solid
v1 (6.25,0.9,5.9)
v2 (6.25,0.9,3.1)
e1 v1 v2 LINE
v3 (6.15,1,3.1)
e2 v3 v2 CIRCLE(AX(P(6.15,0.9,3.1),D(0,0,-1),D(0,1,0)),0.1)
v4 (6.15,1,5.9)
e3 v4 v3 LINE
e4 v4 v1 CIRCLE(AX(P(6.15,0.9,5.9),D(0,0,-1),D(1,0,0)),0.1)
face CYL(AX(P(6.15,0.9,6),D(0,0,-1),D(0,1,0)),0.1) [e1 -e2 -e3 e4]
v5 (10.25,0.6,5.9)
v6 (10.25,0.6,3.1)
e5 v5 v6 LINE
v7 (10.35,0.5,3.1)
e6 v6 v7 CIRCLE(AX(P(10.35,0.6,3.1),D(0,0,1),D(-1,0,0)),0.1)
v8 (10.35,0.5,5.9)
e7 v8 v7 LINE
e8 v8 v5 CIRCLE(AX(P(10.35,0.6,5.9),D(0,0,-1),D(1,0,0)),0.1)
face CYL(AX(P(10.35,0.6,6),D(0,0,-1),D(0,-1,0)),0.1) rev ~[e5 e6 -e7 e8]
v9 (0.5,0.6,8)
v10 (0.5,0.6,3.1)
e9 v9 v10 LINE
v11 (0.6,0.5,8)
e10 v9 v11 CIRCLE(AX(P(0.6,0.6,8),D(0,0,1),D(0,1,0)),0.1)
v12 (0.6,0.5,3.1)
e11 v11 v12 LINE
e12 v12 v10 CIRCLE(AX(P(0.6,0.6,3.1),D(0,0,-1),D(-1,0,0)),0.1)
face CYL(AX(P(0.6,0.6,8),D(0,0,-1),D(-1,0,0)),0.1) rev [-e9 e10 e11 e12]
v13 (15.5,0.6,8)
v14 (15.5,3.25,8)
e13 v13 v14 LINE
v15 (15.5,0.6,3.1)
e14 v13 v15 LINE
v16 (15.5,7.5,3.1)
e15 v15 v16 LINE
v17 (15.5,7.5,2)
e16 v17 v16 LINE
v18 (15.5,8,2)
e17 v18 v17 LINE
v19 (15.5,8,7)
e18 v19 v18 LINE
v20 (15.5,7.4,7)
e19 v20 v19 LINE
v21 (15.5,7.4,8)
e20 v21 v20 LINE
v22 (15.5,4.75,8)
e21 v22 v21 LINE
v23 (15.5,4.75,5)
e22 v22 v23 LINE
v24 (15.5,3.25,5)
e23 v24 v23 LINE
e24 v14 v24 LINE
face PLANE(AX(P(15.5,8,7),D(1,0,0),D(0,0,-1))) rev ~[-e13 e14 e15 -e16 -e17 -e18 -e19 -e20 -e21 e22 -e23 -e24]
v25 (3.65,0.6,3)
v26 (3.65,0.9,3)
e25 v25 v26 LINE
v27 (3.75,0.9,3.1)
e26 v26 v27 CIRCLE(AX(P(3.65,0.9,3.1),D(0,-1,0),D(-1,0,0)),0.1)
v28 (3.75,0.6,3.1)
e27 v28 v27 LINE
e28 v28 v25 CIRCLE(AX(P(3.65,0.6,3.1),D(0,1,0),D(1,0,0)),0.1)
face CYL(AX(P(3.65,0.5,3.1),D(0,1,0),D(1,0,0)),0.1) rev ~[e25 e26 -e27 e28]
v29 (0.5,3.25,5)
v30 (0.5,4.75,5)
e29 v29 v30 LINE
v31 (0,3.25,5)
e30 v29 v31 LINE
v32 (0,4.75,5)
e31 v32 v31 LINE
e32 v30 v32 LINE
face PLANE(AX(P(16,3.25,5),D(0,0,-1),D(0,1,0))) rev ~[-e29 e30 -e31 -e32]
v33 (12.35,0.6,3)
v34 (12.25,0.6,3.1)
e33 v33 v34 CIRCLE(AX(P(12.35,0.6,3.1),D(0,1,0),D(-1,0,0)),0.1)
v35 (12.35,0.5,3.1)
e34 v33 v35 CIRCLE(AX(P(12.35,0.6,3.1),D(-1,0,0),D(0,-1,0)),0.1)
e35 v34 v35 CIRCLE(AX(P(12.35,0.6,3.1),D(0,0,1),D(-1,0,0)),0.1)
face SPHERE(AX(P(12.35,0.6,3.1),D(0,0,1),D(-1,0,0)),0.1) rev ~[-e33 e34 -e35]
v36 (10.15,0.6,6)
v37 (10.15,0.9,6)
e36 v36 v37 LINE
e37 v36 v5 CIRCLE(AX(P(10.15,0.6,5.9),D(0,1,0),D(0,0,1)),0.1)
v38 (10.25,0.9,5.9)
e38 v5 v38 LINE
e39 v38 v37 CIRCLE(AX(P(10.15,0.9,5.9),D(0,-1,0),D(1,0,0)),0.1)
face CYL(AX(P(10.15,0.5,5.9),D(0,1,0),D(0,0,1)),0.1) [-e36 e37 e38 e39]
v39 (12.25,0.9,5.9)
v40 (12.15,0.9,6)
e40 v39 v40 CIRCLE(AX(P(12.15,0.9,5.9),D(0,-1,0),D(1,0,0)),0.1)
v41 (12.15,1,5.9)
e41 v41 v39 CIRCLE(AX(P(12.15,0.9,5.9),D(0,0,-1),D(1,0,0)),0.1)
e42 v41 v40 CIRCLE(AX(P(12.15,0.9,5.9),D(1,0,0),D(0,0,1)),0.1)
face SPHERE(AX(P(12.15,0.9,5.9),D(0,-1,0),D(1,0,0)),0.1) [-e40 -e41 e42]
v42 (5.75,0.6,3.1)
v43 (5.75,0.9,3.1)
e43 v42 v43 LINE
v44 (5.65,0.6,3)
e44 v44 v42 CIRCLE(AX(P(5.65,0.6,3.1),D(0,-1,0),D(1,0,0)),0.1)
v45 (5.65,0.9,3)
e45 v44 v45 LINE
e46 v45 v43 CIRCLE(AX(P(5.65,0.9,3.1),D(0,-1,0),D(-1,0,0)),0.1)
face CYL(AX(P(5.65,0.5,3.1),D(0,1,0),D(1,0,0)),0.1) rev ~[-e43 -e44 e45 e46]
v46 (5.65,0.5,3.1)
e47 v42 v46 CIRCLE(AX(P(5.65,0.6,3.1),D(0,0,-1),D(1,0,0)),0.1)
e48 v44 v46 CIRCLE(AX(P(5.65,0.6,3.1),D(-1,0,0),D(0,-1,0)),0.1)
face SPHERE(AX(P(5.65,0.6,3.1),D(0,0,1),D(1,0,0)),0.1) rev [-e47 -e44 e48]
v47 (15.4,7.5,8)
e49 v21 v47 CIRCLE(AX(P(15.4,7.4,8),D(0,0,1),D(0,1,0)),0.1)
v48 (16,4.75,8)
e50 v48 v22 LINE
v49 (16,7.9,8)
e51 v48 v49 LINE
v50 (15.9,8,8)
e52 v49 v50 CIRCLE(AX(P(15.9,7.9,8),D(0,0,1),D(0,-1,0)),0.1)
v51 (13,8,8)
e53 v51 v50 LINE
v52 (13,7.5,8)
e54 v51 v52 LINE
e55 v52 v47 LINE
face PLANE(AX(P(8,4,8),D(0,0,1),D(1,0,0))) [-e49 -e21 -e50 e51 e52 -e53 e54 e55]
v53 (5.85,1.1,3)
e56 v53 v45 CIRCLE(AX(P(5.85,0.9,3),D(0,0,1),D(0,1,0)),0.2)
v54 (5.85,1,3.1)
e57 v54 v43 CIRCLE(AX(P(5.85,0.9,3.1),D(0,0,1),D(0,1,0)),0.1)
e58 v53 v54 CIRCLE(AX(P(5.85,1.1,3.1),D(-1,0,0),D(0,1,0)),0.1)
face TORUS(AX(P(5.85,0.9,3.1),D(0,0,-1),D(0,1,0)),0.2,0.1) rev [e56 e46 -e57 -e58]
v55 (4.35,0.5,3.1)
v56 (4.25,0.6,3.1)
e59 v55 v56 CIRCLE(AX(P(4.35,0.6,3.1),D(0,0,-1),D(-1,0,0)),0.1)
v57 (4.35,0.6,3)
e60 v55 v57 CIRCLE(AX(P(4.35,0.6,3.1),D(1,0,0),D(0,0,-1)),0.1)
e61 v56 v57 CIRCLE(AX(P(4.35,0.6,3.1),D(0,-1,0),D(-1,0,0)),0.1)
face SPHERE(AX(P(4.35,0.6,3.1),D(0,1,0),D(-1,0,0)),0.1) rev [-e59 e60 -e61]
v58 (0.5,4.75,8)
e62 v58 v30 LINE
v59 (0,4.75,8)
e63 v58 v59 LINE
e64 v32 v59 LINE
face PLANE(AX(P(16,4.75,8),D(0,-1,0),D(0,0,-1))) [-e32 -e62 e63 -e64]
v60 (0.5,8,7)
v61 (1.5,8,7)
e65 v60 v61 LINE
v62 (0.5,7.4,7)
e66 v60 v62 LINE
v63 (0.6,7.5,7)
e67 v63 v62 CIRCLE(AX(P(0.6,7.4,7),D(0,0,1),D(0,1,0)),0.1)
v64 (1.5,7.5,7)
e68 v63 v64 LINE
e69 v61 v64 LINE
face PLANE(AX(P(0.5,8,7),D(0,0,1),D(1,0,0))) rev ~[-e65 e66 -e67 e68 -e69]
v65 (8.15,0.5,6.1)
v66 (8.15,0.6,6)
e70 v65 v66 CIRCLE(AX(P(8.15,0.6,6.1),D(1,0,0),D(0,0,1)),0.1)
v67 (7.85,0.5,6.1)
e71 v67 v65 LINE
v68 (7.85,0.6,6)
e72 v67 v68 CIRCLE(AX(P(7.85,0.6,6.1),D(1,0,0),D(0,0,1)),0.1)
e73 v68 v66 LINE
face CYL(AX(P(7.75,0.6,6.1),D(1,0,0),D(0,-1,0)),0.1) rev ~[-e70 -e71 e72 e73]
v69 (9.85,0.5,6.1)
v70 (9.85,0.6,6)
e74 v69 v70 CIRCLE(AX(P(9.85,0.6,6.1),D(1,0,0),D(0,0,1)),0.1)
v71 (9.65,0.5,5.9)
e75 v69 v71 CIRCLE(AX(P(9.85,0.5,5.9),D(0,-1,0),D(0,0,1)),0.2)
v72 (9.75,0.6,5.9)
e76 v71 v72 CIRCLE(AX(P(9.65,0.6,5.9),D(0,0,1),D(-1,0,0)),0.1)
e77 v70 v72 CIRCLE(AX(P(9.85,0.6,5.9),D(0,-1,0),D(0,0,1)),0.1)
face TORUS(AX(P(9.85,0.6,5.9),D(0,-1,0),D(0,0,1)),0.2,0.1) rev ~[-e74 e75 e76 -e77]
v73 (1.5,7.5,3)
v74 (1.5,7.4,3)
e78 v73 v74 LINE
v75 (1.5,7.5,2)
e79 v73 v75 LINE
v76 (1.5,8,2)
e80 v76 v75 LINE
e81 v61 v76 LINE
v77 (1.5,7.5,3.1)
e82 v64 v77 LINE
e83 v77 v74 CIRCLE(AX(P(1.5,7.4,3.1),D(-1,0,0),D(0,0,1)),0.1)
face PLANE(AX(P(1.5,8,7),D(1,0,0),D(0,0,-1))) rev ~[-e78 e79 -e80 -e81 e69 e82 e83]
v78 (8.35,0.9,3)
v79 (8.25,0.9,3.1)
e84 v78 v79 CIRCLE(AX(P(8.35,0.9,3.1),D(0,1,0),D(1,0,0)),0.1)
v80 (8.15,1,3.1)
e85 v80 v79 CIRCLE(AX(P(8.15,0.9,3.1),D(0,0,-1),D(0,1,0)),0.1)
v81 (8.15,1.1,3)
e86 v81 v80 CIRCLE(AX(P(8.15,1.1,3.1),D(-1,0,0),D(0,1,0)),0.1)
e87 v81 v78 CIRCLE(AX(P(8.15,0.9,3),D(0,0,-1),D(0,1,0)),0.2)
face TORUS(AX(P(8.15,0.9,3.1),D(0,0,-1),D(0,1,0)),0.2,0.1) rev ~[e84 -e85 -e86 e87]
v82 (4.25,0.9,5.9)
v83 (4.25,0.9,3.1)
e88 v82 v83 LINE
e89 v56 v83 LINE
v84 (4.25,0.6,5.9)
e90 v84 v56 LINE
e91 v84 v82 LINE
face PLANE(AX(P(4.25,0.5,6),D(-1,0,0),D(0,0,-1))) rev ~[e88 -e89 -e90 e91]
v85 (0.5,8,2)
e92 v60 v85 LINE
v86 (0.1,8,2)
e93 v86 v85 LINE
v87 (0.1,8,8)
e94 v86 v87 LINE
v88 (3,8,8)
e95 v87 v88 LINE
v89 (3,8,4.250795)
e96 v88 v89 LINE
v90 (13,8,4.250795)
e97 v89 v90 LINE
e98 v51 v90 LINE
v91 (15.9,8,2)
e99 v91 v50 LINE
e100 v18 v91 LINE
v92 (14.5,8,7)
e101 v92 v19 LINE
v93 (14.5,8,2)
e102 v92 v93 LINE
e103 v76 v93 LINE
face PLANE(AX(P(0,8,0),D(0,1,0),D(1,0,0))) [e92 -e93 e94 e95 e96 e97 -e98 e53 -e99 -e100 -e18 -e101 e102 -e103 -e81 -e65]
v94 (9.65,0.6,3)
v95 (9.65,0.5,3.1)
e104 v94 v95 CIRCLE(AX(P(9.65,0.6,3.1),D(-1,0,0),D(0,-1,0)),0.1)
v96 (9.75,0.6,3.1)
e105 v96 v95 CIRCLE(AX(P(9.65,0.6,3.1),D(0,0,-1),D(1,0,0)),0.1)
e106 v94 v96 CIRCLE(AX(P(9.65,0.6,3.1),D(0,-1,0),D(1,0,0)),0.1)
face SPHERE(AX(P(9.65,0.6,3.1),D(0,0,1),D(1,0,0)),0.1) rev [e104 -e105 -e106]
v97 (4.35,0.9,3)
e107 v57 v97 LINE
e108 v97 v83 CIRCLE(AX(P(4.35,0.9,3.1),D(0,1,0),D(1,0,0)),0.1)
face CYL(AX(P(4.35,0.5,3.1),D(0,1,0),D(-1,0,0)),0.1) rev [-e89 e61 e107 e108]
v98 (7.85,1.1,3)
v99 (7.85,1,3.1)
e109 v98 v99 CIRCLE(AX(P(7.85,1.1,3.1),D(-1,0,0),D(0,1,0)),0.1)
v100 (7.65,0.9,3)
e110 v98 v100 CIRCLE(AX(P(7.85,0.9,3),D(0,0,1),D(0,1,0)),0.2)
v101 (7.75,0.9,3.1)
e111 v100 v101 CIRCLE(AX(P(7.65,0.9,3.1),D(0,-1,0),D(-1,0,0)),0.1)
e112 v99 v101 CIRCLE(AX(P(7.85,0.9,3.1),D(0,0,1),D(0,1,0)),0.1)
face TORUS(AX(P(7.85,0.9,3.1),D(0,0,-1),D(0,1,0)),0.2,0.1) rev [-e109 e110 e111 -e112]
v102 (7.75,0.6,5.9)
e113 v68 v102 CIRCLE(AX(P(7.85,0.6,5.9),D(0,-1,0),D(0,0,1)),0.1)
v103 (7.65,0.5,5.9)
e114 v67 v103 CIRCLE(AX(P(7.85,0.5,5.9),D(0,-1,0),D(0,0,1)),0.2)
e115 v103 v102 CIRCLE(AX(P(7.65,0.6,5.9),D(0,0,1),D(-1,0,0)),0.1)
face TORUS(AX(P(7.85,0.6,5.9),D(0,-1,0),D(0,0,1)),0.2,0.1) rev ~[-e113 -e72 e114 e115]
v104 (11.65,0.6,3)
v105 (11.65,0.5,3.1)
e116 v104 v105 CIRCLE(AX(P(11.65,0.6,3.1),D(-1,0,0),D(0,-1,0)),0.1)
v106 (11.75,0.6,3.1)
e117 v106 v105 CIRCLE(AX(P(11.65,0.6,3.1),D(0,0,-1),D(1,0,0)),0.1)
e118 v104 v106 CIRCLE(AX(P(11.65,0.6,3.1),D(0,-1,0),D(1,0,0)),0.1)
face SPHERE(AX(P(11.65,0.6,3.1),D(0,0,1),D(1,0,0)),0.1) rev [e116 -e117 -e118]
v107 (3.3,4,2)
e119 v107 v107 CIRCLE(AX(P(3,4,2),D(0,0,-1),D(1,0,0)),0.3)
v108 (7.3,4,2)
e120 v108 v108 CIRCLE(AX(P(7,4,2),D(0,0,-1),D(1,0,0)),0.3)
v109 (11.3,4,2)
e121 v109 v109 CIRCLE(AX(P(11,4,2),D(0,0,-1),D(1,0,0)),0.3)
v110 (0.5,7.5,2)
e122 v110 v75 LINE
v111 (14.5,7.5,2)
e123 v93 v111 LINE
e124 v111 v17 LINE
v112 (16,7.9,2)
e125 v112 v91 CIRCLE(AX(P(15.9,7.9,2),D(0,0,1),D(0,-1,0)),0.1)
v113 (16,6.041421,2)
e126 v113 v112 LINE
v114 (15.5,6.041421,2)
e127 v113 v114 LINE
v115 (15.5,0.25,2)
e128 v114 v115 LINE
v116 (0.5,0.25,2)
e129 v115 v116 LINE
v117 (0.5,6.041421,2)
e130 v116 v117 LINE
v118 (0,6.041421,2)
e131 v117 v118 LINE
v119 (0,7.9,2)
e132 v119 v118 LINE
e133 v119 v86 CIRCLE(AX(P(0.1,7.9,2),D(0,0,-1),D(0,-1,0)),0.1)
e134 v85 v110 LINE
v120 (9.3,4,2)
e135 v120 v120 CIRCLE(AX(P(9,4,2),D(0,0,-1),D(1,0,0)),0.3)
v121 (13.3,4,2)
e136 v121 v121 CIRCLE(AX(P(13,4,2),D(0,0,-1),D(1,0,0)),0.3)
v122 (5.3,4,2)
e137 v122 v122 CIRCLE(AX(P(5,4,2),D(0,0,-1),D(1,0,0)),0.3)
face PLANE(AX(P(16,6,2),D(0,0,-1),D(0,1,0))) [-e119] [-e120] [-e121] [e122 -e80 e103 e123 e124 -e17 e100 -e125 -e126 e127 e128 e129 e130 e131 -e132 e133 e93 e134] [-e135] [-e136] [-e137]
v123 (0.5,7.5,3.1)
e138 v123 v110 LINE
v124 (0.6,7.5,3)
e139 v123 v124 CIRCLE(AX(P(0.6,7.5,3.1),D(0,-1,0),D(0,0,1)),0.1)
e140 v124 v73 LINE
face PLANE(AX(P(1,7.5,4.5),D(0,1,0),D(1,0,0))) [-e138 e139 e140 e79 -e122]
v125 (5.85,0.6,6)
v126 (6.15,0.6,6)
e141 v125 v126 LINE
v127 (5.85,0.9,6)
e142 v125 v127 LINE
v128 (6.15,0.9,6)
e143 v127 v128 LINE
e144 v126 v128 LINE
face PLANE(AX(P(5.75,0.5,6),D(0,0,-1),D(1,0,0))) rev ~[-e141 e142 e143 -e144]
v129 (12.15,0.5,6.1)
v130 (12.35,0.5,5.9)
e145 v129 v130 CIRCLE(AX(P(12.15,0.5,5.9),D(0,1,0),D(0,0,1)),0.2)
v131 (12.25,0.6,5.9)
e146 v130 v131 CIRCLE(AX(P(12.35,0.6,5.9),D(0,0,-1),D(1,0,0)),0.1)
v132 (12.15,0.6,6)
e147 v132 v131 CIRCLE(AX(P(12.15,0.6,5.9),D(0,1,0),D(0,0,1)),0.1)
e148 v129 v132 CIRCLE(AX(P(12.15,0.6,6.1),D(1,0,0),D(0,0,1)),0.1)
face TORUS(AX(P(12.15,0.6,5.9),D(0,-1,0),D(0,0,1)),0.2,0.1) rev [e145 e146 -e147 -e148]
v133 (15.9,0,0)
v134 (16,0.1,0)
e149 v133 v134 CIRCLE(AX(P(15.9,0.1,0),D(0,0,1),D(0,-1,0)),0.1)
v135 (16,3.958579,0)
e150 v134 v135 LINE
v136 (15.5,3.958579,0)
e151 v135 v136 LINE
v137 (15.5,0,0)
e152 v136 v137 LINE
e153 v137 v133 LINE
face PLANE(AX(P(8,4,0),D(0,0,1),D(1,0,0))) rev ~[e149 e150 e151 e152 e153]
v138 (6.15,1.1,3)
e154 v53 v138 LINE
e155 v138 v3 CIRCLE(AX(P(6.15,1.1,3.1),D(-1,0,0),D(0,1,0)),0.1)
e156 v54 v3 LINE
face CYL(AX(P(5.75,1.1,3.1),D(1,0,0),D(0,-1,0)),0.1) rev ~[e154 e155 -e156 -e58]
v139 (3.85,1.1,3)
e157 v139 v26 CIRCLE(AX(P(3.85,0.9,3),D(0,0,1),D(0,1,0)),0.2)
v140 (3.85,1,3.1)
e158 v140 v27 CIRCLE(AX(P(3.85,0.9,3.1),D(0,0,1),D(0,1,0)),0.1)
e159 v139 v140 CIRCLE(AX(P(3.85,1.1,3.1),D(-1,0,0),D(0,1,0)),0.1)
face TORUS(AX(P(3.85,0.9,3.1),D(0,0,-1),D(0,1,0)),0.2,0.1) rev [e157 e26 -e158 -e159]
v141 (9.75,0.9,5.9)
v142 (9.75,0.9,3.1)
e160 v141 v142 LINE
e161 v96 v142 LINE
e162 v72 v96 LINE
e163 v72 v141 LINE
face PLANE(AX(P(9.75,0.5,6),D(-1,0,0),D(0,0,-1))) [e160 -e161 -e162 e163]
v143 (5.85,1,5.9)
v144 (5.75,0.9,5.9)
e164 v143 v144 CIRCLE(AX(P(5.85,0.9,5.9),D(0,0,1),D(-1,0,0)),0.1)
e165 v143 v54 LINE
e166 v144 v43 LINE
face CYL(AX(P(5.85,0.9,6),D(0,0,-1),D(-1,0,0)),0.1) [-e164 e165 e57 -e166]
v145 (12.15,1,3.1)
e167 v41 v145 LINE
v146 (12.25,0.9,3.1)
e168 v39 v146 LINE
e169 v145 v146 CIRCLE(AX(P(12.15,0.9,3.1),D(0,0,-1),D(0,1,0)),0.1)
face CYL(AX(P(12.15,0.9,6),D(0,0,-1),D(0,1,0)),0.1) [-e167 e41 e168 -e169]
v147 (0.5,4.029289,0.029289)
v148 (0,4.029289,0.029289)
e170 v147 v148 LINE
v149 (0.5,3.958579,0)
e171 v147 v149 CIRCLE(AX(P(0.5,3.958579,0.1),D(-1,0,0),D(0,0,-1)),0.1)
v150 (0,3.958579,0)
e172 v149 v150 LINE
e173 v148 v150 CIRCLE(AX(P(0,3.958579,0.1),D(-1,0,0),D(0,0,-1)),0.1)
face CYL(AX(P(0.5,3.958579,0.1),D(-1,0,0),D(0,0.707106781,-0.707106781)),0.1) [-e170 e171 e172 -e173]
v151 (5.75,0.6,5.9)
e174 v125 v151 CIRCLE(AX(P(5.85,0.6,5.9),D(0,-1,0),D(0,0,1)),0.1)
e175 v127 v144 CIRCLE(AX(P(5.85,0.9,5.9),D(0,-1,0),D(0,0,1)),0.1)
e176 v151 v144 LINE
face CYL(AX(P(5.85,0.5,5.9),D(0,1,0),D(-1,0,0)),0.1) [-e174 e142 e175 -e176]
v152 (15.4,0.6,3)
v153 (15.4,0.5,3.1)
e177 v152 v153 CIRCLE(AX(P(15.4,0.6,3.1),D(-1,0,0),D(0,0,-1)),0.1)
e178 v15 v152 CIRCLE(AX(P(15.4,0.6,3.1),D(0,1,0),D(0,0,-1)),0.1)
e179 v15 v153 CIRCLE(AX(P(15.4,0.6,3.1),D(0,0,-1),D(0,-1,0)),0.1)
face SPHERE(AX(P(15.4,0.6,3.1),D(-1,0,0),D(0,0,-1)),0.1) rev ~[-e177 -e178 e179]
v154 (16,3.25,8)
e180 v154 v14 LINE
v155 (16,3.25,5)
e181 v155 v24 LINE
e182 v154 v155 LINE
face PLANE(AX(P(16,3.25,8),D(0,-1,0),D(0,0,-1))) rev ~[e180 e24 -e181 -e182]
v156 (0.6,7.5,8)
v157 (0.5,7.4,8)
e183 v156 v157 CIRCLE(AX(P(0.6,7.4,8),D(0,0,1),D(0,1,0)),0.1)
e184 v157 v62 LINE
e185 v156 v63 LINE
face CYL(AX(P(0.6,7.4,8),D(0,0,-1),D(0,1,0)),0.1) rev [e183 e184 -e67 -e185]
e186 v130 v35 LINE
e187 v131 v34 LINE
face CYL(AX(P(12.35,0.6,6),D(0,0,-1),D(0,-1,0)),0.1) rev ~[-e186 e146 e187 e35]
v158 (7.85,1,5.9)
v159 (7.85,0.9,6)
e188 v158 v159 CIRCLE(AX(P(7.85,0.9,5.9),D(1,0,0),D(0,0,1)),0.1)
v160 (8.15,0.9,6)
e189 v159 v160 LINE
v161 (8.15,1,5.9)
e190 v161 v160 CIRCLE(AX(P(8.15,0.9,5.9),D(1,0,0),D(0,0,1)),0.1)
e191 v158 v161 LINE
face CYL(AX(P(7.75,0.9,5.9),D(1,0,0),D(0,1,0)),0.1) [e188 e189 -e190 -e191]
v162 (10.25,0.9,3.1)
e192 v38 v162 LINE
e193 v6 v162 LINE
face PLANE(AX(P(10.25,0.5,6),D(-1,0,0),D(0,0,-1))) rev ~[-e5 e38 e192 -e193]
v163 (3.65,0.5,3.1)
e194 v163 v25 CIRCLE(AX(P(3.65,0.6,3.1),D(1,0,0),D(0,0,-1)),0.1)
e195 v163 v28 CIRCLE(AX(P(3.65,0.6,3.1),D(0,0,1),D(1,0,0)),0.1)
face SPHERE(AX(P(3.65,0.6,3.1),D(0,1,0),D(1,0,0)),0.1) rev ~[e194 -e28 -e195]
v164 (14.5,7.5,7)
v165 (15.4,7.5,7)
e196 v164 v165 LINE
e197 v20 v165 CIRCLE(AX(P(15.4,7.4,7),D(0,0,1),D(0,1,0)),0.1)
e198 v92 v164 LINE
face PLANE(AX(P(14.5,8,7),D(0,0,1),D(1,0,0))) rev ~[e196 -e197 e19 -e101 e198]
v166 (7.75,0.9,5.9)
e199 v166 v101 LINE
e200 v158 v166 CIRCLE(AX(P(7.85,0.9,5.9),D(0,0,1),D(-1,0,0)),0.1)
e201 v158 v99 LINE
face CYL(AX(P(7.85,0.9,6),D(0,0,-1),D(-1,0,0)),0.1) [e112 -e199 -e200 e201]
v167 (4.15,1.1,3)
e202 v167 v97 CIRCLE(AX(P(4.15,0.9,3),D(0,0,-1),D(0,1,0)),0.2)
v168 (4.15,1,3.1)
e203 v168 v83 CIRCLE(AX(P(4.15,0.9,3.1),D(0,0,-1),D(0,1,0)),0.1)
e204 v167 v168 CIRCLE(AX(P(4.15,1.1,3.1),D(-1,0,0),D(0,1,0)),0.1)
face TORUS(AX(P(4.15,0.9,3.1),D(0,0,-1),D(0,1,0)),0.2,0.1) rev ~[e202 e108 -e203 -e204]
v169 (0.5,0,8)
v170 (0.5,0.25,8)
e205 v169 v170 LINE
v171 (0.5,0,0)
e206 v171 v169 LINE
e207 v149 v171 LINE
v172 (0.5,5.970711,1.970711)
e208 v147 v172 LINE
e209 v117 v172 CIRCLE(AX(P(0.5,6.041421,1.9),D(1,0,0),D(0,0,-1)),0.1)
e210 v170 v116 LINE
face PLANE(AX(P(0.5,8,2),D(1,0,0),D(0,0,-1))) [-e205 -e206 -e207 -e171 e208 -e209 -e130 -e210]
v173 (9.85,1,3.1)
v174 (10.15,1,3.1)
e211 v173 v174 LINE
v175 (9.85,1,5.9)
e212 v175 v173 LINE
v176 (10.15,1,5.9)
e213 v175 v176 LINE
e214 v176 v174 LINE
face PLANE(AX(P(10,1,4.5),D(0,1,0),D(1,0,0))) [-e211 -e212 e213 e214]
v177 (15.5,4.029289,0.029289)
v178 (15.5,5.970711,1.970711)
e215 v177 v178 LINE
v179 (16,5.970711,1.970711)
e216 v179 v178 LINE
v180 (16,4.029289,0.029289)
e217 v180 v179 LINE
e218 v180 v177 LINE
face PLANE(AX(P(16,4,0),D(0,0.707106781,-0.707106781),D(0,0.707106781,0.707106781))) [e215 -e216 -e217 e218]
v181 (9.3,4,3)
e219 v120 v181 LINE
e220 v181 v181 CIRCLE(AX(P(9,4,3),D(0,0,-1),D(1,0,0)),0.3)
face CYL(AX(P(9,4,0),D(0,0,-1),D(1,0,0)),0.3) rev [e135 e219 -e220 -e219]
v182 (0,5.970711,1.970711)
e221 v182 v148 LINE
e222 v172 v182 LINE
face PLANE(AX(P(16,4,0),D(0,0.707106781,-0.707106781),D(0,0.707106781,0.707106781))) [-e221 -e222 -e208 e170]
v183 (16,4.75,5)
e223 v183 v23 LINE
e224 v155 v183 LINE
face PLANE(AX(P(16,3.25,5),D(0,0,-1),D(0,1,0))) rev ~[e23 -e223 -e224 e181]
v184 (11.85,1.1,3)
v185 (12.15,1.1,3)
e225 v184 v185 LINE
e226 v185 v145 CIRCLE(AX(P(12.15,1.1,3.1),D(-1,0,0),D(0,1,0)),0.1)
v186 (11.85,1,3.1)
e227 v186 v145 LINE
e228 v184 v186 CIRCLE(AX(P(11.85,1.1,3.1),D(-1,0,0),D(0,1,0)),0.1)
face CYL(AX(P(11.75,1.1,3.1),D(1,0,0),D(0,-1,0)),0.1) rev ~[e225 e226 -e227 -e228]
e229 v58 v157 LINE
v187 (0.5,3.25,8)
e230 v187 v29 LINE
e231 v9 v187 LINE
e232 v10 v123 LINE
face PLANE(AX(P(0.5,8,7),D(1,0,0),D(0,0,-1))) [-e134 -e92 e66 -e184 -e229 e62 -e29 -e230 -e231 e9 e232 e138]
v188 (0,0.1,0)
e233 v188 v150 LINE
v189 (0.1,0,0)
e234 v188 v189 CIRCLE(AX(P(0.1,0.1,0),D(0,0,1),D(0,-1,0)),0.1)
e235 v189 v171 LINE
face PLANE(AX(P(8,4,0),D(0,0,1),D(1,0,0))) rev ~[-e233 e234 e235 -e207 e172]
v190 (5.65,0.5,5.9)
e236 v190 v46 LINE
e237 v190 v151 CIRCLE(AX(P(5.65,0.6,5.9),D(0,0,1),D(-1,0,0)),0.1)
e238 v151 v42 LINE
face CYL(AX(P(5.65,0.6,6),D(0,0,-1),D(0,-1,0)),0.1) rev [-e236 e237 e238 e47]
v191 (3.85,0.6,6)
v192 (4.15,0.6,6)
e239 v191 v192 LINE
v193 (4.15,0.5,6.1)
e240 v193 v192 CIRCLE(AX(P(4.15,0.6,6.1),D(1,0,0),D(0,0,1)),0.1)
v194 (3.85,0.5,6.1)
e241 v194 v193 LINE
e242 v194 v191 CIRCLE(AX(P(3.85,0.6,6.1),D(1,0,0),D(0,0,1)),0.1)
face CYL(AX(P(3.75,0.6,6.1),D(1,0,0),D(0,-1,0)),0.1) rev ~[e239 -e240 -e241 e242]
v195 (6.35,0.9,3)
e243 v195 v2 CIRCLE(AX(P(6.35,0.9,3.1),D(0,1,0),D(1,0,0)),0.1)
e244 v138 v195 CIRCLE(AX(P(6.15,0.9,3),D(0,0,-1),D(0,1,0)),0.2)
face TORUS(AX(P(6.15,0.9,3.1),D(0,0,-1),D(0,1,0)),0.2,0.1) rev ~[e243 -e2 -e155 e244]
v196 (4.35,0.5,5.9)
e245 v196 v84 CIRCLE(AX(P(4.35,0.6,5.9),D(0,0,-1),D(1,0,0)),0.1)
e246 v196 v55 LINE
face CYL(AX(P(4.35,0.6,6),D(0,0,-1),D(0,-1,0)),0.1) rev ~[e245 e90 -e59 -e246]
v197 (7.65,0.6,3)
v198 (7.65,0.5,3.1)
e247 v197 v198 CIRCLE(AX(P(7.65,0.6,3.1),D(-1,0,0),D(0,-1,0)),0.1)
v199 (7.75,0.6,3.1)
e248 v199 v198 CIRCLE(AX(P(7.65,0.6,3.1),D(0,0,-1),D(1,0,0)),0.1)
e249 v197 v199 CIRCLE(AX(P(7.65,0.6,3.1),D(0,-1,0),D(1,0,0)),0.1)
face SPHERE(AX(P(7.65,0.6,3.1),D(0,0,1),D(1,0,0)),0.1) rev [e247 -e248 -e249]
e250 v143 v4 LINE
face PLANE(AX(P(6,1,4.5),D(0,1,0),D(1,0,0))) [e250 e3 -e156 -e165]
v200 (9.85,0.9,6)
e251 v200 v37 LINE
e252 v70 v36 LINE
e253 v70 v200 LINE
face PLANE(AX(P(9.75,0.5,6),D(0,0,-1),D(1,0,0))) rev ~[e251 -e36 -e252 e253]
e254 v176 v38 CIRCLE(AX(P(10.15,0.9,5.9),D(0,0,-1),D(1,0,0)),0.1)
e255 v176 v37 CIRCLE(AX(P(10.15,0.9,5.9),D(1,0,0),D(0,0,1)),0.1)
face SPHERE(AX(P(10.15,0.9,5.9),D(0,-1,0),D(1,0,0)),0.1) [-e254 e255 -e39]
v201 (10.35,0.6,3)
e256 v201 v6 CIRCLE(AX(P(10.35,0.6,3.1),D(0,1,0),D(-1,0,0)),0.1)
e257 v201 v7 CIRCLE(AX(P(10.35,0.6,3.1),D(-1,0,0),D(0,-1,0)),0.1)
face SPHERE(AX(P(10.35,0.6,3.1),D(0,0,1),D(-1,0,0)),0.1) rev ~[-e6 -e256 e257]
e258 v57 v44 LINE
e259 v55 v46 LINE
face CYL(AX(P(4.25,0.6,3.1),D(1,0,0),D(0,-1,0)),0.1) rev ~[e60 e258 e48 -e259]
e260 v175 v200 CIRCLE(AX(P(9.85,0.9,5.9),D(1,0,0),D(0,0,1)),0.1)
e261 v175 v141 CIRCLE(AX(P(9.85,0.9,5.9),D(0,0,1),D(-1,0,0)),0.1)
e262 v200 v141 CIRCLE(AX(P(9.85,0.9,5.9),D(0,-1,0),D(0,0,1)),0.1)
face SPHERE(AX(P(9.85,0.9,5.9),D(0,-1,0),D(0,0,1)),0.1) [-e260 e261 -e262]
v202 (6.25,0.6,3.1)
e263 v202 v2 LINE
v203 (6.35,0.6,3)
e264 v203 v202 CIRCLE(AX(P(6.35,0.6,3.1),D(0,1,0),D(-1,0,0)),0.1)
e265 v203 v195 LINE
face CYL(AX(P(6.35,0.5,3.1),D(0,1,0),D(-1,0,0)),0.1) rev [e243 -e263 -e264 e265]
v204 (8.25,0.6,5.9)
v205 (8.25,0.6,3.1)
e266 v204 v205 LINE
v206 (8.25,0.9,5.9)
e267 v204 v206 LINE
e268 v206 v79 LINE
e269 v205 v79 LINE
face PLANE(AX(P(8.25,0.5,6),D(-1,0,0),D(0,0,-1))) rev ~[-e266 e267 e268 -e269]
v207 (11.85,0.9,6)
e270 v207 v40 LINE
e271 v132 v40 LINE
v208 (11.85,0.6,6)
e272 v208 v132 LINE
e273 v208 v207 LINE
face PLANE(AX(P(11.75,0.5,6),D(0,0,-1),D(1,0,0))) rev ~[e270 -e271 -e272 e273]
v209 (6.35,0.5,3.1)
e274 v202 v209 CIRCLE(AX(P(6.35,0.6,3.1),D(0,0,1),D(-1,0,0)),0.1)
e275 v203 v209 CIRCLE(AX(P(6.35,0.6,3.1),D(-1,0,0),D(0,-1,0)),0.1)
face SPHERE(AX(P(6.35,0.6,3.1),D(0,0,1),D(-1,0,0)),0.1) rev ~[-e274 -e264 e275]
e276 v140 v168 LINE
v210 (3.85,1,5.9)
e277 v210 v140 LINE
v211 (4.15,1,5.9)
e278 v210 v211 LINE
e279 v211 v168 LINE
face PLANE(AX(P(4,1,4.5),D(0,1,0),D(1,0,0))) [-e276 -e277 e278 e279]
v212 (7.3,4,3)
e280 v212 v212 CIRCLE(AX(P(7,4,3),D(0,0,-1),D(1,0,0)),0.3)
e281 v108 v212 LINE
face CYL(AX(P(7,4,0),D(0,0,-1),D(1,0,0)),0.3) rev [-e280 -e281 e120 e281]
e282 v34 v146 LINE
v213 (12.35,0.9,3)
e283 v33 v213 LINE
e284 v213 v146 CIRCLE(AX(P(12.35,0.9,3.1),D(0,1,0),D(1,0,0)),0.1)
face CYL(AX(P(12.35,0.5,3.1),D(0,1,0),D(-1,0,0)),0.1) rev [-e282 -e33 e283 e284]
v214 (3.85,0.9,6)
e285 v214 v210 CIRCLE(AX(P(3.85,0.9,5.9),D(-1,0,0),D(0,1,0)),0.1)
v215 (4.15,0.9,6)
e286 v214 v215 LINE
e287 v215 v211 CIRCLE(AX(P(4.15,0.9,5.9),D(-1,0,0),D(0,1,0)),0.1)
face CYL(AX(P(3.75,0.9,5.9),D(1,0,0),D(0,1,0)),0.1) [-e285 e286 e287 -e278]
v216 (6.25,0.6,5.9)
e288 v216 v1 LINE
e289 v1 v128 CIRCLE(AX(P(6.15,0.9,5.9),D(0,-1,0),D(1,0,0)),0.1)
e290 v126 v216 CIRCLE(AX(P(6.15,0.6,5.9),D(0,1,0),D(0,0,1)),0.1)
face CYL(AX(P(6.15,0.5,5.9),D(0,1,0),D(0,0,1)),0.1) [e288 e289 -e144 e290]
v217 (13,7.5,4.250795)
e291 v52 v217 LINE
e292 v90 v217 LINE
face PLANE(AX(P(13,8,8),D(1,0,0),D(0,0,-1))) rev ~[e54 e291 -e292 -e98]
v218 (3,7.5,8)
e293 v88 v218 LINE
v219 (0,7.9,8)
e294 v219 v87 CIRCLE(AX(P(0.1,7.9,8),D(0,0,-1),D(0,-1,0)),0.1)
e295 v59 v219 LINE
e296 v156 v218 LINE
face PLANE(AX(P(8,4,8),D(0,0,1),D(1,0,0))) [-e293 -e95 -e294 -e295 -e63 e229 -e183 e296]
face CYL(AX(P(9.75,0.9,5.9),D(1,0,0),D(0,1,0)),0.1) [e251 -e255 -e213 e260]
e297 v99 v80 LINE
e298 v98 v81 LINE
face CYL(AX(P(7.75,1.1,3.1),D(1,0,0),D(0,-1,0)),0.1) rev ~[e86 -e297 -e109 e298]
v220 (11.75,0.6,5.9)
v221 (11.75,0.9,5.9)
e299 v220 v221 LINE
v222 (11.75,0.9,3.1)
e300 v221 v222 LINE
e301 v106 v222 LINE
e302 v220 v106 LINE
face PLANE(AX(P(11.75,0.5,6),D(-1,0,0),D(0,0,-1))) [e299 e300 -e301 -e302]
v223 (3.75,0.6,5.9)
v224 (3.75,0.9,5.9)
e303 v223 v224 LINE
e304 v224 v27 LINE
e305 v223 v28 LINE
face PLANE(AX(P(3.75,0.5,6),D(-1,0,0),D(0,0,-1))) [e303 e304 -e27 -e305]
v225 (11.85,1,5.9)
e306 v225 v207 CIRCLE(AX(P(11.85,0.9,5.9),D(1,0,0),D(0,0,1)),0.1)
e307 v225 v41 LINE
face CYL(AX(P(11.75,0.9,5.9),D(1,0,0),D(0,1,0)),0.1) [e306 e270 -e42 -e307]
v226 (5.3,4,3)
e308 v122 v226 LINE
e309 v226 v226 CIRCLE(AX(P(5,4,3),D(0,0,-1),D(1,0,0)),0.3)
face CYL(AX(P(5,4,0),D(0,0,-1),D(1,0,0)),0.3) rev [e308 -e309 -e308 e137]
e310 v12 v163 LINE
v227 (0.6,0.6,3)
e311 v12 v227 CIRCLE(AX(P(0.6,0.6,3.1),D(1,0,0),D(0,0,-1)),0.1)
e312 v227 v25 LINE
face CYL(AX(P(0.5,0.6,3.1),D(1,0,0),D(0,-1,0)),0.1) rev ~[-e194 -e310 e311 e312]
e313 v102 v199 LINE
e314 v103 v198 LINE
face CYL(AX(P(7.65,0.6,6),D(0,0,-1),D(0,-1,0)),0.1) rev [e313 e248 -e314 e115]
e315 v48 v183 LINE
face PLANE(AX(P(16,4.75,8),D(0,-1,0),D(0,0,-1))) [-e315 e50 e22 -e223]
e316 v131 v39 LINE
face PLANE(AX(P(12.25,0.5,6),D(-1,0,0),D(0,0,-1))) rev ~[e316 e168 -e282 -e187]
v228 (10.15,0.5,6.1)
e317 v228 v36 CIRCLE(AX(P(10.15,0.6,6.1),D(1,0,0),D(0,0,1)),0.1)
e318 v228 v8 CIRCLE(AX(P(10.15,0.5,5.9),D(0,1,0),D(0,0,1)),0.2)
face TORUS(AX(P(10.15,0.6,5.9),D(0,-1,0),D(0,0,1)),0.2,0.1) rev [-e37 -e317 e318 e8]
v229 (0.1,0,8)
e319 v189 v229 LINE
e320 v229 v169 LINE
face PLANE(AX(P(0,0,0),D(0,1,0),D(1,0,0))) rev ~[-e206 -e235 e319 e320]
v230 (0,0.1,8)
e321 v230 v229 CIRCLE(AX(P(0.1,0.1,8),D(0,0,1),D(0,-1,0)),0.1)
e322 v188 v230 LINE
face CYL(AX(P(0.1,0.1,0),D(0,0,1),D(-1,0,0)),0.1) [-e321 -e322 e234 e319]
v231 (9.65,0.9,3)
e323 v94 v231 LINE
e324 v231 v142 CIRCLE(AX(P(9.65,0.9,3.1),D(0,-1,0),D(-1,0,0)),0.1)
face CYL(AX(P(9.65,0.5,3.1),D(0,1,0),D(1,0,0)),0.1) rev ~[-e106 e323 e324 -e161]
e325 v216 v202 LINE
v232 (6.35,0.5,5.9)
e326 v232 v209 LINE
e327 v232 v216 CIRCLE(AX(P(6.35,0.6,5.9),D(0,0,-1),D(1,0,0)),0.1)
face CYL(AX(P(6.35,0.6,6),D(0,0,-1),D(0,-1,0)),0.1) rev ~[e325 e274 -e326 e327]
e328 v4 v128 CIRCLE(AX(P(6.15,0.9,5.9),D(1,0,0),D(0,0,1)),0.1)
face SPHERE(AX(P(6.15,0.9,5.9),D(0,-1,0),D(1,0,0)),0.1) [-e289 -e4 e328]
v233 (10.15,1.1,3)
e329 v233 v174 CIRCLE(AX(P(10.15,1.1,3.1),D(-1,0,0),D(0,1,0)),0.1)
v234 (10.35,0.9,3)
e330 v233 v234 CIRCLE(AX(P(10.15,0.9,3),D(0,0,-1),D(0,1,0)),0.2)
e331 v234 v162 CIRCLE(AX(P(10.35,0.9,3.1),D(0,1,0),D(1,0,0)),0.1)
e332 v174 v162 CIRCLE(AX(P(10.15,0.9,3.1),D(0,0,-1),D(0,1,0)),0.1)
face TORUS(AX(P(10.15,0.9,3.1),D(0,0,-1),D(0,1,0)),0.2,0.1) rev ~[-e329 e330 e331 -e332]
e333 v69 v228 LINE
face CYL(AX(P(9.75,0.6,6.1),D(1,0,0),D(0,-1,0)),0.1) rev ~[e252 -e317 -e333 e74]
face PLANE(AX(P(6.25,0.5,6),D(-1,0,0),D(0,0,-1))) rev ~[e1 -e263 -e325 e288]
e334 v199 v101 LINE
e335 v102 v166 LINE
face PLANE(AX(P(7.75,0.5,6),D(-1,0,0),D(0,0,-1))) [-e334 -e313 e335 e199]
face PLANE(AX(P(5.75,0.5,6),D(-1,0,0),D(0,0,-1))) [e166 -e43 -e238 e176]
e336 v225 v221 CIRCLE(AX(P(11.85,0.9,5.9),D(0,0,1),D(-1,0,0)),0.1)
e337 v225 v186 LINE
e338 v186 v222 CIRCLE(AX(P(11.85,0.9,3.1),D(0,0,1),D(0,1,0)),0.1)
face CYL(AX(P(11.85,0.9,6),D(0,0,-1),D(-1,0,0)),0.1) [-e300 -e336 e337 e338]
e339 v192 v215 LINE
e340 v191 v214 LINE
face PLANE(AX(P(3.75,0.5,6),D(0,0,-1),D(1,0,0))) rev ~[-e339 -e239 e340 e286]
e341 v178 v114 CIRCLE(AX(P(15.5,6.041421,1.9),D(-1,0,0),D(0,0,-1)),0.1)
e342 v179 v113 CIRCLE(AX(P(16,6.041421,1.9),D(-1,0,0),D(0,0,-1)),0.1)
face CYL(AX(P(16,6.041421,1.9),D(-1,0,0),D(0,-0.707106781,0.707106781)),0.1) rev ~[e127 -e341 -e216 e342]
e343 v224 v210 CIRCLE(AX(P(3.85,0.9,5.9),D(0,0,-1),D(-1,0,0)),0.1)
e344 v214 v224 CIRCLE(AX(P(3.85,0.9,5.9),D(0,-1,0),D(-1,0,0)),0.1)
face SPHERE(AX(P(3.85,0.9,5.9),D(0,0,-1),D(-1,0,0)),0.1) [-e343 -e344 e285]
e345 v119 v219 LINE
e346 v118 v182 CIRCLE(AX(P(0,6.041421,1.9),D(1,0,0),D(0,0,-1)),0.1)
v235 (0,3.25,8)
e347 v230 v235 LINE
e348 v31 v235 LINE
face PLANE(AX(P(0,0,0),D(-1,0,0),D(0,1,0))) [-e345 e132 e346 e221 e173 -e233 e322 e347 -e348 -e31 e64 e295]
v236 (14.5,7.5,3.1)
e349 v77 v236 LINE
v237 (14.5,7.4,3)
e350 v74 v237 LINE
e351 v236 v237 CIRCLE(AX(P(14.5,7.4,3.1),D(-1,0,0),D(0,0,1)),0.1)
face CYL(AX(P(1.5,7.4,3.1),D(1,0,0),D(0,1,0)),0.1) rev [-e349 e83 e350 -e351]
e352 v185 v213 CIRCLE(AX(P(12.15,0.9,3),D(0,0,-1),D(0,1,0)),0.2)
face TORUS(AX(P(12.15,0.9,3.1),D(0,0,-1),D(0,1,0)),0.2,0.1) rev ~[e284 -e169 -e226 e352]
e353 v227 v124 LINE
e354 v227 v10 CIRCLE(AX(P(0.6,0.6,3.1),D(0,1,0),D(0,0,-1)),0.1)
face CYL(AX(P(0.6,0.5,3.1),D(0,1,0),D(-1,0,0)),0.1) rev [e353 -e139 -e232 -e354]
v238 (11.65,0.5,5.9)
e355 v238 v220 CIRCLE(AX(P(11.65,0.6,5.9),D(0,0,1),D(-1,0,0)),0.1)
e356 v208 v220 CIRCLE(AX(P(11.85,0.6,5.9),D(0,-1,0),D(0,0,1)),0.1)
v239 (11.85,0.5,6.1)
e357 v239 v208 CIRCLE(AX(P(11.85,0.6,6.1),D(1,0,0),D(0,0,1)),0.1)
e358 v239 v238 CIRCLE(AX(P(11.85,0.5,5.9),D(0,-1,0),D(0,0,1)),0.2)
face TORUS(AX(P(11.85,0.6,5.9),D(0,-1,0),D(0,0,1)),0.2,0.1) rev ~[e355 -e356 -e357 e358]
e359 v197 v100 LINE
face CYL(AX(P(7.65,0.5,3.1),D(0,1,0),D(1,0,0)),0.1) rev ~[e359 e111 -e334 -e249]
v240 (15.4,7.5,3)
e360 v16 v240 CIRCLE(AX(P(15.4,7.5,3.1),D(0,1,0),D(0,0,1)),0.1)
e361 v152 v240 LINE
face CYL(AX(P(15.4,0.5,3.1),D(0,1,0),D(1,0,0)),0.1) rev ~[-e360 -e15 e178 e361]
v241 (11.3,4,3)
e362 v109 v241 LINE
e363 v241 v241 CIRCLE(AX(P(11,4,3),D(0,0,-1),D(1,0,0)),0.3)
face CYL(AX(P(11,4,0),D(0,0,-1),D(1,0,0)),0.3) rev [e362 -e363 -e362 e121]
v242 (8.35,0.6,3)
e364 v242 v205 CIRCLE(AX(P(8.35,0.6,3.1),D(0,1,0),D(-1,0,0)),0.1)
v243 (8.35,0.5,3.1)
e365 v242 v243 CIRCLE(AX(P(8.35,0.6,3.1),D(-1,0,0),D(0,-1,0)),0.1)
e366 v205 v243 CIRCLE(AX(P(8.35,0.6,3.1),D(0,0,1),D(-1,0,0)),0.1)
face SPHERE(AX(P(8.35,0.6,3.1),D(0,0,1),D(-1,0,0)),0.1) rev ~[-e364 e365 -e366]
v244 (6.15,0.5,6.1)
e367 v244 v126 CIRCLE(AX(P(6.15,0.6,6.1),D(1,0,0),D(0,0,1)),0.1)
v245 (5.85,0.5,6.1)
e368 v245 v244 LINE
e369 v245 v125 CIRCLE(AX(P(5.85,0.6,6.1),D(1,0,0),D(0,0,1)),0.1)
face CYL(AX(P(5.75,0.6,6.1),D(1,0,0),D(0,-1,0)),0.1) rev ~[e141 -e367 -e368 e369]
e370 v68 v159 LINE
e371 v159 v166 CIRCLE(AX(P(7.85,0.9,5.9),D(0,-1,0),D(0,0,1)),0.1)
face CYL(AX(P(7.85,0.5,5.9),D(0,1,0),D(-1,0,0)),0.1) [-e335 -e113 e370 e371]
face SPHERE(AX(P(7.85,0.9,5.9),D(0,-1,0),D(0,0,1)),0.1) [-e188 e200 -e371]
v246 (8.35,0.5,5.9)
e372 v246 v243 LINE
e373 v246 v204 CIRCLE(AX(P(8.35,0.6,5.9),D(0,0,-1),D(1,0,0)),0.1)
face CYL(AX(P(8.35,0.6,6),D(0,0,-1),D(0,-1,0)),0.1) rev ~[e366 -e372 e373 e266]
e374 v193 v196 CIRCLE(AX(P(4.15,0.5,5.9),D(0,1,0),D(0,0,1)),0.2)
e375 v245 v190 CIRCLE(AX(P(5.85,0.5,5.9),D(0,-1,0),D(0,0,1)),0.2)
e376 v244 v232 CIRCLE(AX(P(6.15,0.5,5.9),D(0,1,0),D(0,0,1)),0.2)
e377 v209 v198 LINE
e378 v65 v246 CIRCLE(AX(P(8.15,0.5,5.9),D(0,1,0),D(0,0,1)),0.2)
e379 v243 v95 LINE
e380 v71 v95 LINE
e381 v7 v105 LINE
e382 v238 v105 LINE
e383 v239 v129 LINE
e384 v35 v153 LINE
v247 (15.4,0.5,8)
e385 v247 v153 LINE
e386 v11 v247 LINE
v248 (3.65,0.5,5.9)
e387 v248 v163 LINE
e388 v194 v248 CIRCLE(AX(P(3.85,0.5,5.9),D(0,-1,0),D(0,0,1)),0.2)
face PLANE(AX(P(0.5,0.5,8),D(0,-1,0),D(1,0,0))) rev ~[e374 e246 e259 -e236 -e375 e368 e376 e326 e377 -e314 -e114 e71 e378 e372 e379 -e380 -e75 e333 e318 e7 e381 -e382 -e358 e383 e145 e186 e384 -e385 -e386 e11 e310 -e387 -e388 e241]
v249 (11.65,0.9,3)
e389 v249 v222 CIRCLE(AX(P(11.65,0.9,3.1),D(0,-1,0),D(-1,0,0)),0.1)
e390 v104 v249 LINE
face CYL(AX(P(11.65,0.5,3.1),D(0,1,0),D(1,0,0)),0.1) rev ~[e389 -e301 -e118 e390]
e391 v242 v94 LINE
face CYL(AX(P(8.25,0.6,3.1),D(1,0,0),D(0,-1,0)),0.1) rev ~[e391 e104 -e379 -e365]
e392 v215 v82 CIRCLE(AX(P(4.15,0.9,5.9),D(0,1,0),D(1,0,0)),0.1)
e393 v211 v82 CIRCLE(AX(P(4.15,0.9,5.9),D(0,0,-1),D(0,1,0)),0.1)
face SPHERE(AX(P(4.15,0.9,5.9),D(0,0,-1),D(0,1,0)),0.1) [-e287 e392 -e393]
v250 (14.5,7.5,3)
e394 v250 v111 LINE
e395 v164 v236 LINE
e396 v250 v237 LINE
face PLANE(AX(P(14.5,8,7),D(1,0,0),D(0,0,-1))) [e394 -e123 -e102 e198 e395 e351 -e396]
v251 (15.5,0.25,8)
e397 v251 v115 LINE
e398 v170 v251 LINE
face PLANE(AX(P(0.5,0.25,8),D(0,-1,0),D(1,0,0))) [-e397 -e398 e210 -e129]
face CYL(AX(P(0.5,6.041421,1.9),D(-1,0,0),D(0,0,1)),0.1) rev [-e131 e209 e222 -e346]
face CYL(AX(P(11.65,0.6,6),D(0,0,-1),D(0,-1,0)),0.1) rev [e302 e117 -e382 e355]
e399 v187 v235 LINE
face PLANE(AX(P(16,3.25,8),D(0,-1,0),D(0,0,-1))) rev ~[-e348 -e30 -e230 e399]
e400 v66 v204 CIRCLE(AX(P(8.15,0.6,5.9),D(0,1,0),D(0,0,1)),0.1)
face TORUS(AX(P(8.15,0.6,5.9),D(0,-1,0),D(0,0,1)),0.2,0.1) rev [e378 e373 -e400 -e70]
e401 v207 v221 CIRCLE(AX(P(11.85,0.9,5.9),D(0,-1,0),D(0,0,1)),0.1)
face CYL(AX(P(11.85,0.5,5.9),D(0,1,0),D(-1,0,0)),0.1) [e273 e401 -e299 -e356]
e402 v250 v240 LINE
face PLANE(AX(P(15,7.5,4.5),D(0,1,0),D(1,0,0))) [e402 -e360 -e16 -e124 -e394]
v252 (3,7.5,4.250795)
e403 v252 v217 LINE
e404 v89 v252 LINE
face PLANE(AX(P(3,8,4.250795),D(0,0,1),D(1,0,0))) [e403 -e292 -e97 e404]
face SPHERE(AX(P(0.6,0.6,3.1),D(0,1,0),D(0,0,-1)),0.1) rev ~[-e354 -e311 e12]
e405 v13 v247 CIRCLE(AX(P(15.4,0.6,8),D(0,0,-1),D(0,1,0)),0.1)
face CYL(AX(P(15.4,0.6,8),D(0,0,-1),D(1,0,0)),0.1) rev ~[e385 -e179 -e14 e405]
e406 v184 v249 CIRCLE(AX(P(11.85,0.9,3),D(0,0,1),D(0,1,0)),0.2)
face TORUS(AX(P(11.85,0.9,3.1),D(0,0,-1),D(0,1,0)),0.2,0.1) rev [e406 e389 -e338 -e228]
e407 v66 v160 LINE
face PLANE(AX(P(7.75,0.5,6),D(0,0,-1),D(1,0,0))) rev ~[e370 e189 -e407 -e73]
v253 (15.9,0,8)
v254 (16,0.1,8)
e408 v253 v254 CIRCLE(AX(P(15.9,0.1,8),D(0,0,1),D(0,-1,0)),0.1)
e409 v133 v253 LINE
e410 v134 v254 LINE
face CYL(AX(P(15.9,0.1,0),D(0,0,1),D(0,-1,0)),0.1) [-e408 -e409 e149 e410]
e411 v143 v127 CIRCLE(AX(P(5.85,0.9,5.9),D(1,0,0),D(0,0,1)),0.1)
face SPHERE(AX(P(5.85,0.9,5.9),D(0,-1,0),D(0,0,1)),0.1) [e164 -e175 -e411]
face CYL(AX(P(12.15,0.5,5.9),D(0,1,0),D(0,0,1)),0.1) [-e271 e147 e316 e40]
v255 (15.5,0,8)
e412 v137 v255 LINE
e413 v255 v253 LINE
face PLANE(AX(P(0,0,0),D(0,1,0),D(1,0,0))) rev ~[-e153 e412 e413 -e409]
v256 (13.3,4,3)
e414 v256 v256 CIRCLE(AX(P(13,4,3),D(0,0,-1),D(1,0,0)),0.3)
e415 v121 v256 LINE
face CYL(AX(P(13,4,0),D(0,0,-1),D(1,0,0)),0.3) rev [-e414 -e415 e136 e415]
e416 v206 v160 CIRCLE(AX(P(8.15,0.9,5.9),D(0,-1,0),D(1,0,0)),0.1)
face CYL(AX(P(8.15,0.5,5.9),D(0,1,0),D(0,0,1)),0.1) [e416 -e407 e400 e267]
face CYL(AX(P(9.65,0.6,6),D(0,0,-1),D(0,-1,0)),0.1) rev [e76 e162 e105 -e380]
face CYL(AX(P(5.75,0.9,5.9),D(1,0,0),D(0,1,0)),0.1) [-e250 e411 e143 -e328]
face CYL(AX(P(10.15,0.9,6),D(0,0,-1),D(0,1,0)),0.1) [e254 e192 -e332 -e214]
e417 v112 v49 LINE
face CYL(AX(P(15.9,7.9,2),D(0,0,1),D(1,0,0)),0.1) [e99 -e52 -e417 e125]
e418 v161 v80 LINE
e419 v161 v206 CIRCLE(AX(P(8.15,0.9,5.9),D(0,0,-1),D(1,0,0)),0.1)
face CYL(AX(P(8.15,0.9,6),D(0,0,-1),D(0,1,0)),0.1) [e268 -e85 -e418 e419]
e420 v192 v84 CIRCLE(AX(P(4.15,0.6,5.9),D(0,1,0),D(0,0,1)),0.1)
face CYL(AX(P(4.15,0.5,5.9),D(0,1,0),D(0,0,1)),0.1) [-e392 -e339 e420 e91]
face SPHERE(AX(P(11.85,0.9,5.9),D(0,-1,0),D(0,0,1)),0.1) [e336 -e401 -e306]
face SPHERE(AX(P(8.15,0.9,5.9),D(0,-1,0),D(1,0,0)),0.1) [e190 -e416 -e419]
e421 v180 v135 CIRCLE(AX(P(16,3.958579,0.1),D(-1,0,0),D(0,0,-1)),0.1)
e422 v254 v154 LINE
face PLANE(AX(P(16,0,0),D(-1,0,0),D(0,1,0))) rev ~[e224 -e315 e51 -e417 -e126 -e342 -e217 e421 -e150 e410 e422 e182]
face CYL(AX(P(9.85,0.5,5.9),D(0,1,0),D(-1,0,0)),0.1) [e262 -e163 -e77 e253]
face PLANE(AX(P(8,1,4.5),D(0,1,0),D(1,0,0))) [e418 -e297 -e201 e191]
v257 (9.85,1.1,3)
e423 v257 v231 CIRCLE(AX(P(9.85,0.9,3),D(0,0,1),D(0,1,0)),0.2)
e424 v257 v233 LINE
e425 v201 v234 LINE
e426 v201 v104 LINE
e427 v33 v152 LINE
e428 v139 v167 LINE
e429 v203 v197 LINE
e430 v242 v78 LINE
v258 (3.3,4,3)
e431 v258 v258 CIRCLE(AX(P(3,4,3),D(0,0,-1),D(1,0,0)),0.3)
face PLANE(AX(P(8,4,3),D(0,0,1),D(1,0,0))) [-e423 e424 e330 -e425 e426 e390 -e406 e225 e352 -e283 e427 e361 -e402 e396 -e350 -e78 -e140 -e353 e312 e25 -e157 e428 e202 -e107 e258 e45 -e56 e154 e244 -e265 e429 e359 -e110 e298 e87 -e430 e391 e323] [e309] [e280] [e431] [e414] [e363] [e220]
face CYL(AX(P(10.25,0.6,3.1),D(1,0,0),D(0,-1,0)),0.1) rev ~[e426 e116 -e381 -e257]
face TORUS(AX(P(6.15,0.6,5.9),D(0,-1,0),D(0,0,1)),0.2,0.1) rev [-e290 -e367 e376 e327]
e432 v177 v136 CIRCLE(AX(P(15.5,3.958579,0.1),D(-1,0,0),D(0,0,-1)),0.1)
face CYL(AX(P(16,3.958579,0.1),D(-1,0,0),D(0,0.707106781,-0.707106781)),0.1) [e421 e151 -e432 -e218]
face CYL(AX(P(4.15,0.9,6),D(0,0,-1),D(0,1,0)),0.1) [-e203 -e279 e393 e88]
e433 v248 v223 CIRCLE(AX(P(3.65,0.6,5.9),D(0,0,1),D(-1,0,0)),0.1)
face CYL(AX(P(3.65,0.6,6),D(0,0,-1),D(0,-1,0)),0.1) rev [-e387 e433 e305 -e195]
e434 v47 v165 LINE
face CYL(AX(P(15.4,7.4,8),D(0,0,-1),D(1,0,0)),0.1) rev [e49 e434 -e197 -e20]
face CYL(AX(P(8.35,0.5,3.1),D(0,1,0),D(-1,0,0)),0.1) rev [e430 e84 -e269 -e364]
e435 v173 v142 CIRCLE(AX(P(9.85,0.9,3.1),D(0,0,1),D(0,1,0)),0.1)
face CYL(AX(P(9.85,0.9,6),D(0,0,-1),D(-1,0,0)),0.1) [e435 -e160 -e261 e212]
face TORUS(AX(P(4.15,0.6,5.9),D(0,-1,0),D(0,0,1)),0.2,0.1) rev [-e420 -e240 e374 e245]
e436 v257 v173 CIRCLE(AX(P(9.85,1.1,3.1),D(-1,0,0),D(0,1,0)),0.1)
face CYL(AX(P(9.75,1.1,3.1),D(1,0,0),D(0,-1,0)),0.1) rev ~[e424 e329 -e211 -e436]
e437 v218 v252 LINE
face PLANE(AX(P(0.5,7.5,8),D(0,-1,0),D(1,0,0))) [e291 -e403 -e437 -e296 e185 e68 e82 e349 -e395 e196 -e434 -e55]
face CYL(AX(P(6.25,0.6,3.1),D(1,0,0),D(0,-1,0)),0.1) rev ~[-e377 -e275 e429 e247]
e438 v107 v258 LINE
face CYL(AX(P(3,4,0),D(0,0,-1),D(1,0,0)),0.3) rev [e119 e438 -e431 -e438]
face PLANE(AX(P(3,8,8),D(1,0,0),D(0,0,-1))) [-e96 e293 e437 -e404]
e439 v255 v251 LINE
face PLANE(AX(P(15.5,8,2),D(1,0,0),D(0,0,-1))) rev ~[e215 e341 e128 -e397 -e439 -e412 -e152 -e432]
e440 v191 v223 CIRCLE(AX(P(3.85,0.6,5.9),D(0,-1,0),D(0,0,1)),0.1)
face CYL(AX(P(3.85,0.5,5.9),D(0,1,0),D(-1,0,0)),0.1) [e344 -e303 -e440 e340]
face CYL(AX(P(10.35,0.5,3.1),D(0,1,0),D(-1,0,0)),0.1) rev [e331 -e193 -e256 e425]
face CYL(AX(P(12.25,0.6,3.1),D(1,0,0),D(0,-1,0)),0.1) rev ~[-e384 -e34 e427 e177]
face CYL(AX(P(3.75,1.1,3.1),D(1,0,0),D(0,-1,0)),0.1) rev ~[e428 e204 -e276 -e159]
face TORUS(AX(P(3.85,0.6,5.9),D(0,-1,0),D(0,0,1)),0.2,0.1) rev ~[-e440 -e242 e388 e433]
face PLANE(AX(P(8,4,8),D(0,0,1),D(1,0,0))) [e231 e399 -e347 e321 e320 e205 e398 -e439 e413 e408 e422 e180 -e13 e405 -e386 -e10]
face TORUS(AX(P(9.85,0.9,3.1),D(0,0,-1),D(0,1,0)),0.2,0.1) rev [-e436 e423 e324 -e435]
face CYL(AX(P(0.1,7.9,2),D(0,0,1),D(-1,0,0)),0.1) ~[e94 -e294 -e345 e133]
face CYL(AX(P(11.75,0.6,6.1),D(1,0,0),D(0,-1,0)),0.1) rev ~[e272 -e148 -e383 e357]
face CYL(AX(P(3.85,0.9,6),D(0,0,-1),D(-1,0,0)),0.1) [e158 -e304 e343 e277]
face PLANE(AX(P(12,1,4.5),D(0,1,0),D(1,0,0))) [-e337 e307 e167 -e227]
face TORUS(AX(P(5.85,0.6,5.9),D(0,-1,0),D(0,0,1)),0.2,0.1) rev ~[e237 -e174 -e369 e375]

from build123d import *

# Parameters (mm, degrees)
SKETCH1_W           = 16
SKETCH1_H           = 8
SKETCH1_R           = 0.3
BOSS_EXTRUDE1_DEPTH = 8
SKETCH2_W           = 15
SKETCH2_H           = 7
CUT_EXTRUDE1_DEPTH  = 5
SKETCH4_W           = 15
SKETCH4_H           = 2
CUT_EXTRUDE2_DEPTH  = 9
CUT_EXTRUDE3_DEPTH  = 17
CUT_EXTRUDE4_REACH  = 10
SKETCH6_W           = 10
SKETCH6_H           = 3.749204525
SKETCH7_W           = 1
SKETCH7_H           = 5
CUT_EXTRUDE5_DEPTH  = 0.5
SKETCH8_W           = 0.5
SKETCH8_H           = 3
BOSS_EXTRUDE2_DEPTH = 0.5
SKETCH9_W           = 3
SKETCH9_H           = 1.5
CUT_EXTRUDE6_DEPTH  = 17
SKETCH10_W          = 15
SKETCH10_H          = 0.25
CUT_EXTRUDE7_DEPTH  = 9
FILLET1_R           = 0.1


with BuildPart() as part:
    # Sketch1 → Boss-Extrude1 (new body)
    with BuildSketch(Plane.XY):
        with Locations((8, 4)):
            Rectangle(SKETCH1_W, SKETCH1_H)
        with Locations((3, 4)):
            Circle(SKETCH1_R, mode=Mode.SUBTRACT)
        with Locations((5, 4)):
            Circle(SKETCH1_R, mode=Mode.SUBTRACT)
        with Locations((7, 4)):
            Circle(SKETCH1_R, mode=Mode.SUBTRACT)
        with Locations((9, 4)):
            Circle(SKETCH1_R, mode=Mode.SUBTRACT)
        with Locations((11, 4)):
            Circle(SKETCH1_R, mode=Mode.SUBTRACT)
        with Locations((13, 4)):
            Circle(SKETCH1_R, mode=Mode.SUBTRACT)
    extrude(amount=BOSS_EXTRUDE1_DEPTH)

    # Sketch2 → Cut-Extrude1 (cut)
    with BuildSketch(Plane.XY.offset(8)):
        with Locations((8, 4)):
            Rectangle(SKETCH2_W, SKETCH2_H)
    extrude(amount=-CUT_EXTRUDE1_DEPTH, mode=Mode.SUBTRACT)

    # Sketch4 → Cut-Extrude2 (cut, through all)
    with BuildSketch(Plane(origin=(0, 8, 0), x_dir=(1, 0, 0), z_dir=(0, 1, 0))):
        with Locations((8, -1)):
            Rectangle(SKETCH4_W, SKETCH4_H)
    extrude(amount=-CUT_EXTRUDE2_DEPTH, mode=Mode.SUBTRACT)

    # Sketch5 → Cut-Extrude3 (cut, through all)
    with BuildSketch(Plane(origin=(16, 0, 0), x_dir=(0, 0, -1), z_dir=(1, 0, 0))):
        Polygon((-2, 8), (0, 8), (0, 4), (-2, 6), align=None)
    extrude(amount=-CUT_EXTRUDE3_DEPTH, mode=Mode.SUBTRACT)

    # Sketch6 → Cut-Extrude4 (cut, up to next)
    with BuildSketch(Plane(origin=(0, 8, 0), x_dir=(1, 0, 0), z_dir=(0, 1, 0)), mode=Mode.PRIVATE) as cut_extrude4_sk1:
        with Locations((8, -6.125397738)):
            Rectangle(SKETCH6_W, SKETCH6_H)
    cut_extrude4_tool1 = extrude(cut_extrude4_sk1.sketch, amount=-CUT_EXTRUDE4_REACH, mode=Mode.PRIVATE) & part.part
    add(cut_extrude4_tool1.solids().sort_by_distance((8, 8, 6.125398))[0], mode=Mode.SUBTRACT)

    # Sketch7 → Cut-Extrude5 (cut)
    with BuildSketch(Plane(origin=(0, 8, 0), x_dir=(1, 0, 0), z_dir=(0, 1, 0))):
        with Locations((1, -4.5)):
            Rectangle(SKETCH7_W, SKETCH7_H)
        with Locations((15, -4.5)):
            Rectangle(SKETCH7_W, SKETCH7_H)
    extrude(amount=-CUT_EXTRUDE5_DEPTH, mode=Mode.SUBTRACT)

    # Sketch8 → Boss-Extrude2 (add)
    with BuildSketch(Plane(origin=(0, 0.5, 0), x_dir=(1, 0, 0), z_dir=(0, 1, 0))):
        with Locations((4, -4.5)):
            Rectangle(SKETCH8_W, SKETCH8_H)
        with Locations((6, -4.5)):
            Rectangle(SKETCH8_W, SKETCH8_H)
        with Locations((8, -4.5)):
            Rectangle(SKETCH8_W, SKETCH8_H)
        with Locations((10, -4.5)):
            Rectangle(SKETCH8_W, SKETCH8_H)
        with Locations((12, -4.5)):
            Rectangle(SKETCH8_W, SKETCH8_H)
    extrude(amount=BOSS_EXTRUDE2_DEPTH)

    # Sketch9 → Cut-Extrude6 (cut, through all)
    with BuildSketch(Plane(origin=(16, 0, 0), x_dir=(0, 0, -1), z_dir=(1, 0, 0))):
        with Locations((-6.5, 4)):
            Rectangle(SKETCH9_W, SKETCH9_H)
    extrude(amount=-CUT_EXTRUDE6_DEPTH, mode=Mode.SUBTRACT)

    # Sketch10 → Cut-Extrude7 (cut, through all)
    with BuildSketch(Plane.XY.offset(8)):
        with Locations((8, 0.125)):
            Rectangle(SKETCH10_W, SKETCH10_H)
    extrude(amount=-CUT_EXTRUDE7_DEPTH, mode=Mode.SUBTRACT)

    # Fillet1
    fillet1_edges = [part.edges().sort_by_distance(p)[0] for p in [
        (4.25, 0.75, 3),
        (3.75, 0.75, 3),
        (3.75, 0.5, 4.5),
        (4.25, 0.5, 4.5),
        (5.75, 0.5, 4.5),
        (6.25, 0.5, 4.5),
        (11.75, 0.5, 4.5),
        (12.25, 0.5, 4.5),
        (9.75, 0.5, 4.5),
        (10.25, 0.5, 4.5),
        (7.75, 0.5, 4.5),
        (8.25, 0.5, 4.5),
        (6.25, 0.75, 3),
        (5.75, 0.75, 3),
        (8.25, 0.75, 3),
        (7.75, 0.75, 3),
        (10.25, 0.75, 3),
        (9.75, 0.75, 3),
        (12.25, 0.75, 3),
        (11.75, 0.75, 3),
        (4.25, 1, 4.5),
        (3.75, 1, 4.5),
        (4, 1, 3),
        (3.75, 0.75, 6),
        (4, 1, 6),
        (4.25, 0.75, 6),
        (4, 0.5, 6),
        (5.75, 0.75, 6),
        (6.25, 0.75, 6),
        (6, 0.5, 6),
        (11.75, 0.75, 6),
        (12.25, 0.75, 6),
        (12, 0.5, 6),
        (9.75, 0.75, 6),
        (10.25, 0.75, 6),
        (10, 0.5, 6),
        (7.75, 0.75, 6),
        (8.25, 0.75, 6),
        (8, 0.5, 6),
        (6.25, 1, 4.5),
        (6, 1, 6),
        (5.75, 1, 4.5),
        (6, 1, 3),
        (8.25, 1, 4.5),
        (8, 1, 6),
        (7.75, 1, 4.5),
        (8, 1, 3),
        (10.25, 1, 4.5),
        (10, 1, 6),
        (9.75, 1, 4.5),
        (10, 1, 3),
        (12.25, 1, 4.5),
        (12, 1, 6),
        (11.75, 1, 4.5),
        (12, 1, 3),
        (11, 0.5, 3),
        (9, 0.5, 3),
        (7, 0.5, 3),
        (13.875, 0.5, 3),
        (15.5, 4, 3),
        (8, 7.5, 3),
        (0.5, 7.5, 7.5),
        (0.5, 4, 3),
        (5, 0.5, 3),
        (2.125, 0.5, 3),
        (0.5, 0.5, 5.5),
        (0, 0, 4),
        (16, 0, 4),
        (16, 8, 5),
        (0, 8, 5),
        (15.5, 7.5, 7.5),
        (15.75, 4, 0),
        (15.75, 6, 2),
        (0.25, 6, 2),
        (0.25, 4, 0),
        (15.5, 0.5, 5.5),
    ]]
    fillet(fillet1_edges, radius=FILLET1_R)


solid = part.part
